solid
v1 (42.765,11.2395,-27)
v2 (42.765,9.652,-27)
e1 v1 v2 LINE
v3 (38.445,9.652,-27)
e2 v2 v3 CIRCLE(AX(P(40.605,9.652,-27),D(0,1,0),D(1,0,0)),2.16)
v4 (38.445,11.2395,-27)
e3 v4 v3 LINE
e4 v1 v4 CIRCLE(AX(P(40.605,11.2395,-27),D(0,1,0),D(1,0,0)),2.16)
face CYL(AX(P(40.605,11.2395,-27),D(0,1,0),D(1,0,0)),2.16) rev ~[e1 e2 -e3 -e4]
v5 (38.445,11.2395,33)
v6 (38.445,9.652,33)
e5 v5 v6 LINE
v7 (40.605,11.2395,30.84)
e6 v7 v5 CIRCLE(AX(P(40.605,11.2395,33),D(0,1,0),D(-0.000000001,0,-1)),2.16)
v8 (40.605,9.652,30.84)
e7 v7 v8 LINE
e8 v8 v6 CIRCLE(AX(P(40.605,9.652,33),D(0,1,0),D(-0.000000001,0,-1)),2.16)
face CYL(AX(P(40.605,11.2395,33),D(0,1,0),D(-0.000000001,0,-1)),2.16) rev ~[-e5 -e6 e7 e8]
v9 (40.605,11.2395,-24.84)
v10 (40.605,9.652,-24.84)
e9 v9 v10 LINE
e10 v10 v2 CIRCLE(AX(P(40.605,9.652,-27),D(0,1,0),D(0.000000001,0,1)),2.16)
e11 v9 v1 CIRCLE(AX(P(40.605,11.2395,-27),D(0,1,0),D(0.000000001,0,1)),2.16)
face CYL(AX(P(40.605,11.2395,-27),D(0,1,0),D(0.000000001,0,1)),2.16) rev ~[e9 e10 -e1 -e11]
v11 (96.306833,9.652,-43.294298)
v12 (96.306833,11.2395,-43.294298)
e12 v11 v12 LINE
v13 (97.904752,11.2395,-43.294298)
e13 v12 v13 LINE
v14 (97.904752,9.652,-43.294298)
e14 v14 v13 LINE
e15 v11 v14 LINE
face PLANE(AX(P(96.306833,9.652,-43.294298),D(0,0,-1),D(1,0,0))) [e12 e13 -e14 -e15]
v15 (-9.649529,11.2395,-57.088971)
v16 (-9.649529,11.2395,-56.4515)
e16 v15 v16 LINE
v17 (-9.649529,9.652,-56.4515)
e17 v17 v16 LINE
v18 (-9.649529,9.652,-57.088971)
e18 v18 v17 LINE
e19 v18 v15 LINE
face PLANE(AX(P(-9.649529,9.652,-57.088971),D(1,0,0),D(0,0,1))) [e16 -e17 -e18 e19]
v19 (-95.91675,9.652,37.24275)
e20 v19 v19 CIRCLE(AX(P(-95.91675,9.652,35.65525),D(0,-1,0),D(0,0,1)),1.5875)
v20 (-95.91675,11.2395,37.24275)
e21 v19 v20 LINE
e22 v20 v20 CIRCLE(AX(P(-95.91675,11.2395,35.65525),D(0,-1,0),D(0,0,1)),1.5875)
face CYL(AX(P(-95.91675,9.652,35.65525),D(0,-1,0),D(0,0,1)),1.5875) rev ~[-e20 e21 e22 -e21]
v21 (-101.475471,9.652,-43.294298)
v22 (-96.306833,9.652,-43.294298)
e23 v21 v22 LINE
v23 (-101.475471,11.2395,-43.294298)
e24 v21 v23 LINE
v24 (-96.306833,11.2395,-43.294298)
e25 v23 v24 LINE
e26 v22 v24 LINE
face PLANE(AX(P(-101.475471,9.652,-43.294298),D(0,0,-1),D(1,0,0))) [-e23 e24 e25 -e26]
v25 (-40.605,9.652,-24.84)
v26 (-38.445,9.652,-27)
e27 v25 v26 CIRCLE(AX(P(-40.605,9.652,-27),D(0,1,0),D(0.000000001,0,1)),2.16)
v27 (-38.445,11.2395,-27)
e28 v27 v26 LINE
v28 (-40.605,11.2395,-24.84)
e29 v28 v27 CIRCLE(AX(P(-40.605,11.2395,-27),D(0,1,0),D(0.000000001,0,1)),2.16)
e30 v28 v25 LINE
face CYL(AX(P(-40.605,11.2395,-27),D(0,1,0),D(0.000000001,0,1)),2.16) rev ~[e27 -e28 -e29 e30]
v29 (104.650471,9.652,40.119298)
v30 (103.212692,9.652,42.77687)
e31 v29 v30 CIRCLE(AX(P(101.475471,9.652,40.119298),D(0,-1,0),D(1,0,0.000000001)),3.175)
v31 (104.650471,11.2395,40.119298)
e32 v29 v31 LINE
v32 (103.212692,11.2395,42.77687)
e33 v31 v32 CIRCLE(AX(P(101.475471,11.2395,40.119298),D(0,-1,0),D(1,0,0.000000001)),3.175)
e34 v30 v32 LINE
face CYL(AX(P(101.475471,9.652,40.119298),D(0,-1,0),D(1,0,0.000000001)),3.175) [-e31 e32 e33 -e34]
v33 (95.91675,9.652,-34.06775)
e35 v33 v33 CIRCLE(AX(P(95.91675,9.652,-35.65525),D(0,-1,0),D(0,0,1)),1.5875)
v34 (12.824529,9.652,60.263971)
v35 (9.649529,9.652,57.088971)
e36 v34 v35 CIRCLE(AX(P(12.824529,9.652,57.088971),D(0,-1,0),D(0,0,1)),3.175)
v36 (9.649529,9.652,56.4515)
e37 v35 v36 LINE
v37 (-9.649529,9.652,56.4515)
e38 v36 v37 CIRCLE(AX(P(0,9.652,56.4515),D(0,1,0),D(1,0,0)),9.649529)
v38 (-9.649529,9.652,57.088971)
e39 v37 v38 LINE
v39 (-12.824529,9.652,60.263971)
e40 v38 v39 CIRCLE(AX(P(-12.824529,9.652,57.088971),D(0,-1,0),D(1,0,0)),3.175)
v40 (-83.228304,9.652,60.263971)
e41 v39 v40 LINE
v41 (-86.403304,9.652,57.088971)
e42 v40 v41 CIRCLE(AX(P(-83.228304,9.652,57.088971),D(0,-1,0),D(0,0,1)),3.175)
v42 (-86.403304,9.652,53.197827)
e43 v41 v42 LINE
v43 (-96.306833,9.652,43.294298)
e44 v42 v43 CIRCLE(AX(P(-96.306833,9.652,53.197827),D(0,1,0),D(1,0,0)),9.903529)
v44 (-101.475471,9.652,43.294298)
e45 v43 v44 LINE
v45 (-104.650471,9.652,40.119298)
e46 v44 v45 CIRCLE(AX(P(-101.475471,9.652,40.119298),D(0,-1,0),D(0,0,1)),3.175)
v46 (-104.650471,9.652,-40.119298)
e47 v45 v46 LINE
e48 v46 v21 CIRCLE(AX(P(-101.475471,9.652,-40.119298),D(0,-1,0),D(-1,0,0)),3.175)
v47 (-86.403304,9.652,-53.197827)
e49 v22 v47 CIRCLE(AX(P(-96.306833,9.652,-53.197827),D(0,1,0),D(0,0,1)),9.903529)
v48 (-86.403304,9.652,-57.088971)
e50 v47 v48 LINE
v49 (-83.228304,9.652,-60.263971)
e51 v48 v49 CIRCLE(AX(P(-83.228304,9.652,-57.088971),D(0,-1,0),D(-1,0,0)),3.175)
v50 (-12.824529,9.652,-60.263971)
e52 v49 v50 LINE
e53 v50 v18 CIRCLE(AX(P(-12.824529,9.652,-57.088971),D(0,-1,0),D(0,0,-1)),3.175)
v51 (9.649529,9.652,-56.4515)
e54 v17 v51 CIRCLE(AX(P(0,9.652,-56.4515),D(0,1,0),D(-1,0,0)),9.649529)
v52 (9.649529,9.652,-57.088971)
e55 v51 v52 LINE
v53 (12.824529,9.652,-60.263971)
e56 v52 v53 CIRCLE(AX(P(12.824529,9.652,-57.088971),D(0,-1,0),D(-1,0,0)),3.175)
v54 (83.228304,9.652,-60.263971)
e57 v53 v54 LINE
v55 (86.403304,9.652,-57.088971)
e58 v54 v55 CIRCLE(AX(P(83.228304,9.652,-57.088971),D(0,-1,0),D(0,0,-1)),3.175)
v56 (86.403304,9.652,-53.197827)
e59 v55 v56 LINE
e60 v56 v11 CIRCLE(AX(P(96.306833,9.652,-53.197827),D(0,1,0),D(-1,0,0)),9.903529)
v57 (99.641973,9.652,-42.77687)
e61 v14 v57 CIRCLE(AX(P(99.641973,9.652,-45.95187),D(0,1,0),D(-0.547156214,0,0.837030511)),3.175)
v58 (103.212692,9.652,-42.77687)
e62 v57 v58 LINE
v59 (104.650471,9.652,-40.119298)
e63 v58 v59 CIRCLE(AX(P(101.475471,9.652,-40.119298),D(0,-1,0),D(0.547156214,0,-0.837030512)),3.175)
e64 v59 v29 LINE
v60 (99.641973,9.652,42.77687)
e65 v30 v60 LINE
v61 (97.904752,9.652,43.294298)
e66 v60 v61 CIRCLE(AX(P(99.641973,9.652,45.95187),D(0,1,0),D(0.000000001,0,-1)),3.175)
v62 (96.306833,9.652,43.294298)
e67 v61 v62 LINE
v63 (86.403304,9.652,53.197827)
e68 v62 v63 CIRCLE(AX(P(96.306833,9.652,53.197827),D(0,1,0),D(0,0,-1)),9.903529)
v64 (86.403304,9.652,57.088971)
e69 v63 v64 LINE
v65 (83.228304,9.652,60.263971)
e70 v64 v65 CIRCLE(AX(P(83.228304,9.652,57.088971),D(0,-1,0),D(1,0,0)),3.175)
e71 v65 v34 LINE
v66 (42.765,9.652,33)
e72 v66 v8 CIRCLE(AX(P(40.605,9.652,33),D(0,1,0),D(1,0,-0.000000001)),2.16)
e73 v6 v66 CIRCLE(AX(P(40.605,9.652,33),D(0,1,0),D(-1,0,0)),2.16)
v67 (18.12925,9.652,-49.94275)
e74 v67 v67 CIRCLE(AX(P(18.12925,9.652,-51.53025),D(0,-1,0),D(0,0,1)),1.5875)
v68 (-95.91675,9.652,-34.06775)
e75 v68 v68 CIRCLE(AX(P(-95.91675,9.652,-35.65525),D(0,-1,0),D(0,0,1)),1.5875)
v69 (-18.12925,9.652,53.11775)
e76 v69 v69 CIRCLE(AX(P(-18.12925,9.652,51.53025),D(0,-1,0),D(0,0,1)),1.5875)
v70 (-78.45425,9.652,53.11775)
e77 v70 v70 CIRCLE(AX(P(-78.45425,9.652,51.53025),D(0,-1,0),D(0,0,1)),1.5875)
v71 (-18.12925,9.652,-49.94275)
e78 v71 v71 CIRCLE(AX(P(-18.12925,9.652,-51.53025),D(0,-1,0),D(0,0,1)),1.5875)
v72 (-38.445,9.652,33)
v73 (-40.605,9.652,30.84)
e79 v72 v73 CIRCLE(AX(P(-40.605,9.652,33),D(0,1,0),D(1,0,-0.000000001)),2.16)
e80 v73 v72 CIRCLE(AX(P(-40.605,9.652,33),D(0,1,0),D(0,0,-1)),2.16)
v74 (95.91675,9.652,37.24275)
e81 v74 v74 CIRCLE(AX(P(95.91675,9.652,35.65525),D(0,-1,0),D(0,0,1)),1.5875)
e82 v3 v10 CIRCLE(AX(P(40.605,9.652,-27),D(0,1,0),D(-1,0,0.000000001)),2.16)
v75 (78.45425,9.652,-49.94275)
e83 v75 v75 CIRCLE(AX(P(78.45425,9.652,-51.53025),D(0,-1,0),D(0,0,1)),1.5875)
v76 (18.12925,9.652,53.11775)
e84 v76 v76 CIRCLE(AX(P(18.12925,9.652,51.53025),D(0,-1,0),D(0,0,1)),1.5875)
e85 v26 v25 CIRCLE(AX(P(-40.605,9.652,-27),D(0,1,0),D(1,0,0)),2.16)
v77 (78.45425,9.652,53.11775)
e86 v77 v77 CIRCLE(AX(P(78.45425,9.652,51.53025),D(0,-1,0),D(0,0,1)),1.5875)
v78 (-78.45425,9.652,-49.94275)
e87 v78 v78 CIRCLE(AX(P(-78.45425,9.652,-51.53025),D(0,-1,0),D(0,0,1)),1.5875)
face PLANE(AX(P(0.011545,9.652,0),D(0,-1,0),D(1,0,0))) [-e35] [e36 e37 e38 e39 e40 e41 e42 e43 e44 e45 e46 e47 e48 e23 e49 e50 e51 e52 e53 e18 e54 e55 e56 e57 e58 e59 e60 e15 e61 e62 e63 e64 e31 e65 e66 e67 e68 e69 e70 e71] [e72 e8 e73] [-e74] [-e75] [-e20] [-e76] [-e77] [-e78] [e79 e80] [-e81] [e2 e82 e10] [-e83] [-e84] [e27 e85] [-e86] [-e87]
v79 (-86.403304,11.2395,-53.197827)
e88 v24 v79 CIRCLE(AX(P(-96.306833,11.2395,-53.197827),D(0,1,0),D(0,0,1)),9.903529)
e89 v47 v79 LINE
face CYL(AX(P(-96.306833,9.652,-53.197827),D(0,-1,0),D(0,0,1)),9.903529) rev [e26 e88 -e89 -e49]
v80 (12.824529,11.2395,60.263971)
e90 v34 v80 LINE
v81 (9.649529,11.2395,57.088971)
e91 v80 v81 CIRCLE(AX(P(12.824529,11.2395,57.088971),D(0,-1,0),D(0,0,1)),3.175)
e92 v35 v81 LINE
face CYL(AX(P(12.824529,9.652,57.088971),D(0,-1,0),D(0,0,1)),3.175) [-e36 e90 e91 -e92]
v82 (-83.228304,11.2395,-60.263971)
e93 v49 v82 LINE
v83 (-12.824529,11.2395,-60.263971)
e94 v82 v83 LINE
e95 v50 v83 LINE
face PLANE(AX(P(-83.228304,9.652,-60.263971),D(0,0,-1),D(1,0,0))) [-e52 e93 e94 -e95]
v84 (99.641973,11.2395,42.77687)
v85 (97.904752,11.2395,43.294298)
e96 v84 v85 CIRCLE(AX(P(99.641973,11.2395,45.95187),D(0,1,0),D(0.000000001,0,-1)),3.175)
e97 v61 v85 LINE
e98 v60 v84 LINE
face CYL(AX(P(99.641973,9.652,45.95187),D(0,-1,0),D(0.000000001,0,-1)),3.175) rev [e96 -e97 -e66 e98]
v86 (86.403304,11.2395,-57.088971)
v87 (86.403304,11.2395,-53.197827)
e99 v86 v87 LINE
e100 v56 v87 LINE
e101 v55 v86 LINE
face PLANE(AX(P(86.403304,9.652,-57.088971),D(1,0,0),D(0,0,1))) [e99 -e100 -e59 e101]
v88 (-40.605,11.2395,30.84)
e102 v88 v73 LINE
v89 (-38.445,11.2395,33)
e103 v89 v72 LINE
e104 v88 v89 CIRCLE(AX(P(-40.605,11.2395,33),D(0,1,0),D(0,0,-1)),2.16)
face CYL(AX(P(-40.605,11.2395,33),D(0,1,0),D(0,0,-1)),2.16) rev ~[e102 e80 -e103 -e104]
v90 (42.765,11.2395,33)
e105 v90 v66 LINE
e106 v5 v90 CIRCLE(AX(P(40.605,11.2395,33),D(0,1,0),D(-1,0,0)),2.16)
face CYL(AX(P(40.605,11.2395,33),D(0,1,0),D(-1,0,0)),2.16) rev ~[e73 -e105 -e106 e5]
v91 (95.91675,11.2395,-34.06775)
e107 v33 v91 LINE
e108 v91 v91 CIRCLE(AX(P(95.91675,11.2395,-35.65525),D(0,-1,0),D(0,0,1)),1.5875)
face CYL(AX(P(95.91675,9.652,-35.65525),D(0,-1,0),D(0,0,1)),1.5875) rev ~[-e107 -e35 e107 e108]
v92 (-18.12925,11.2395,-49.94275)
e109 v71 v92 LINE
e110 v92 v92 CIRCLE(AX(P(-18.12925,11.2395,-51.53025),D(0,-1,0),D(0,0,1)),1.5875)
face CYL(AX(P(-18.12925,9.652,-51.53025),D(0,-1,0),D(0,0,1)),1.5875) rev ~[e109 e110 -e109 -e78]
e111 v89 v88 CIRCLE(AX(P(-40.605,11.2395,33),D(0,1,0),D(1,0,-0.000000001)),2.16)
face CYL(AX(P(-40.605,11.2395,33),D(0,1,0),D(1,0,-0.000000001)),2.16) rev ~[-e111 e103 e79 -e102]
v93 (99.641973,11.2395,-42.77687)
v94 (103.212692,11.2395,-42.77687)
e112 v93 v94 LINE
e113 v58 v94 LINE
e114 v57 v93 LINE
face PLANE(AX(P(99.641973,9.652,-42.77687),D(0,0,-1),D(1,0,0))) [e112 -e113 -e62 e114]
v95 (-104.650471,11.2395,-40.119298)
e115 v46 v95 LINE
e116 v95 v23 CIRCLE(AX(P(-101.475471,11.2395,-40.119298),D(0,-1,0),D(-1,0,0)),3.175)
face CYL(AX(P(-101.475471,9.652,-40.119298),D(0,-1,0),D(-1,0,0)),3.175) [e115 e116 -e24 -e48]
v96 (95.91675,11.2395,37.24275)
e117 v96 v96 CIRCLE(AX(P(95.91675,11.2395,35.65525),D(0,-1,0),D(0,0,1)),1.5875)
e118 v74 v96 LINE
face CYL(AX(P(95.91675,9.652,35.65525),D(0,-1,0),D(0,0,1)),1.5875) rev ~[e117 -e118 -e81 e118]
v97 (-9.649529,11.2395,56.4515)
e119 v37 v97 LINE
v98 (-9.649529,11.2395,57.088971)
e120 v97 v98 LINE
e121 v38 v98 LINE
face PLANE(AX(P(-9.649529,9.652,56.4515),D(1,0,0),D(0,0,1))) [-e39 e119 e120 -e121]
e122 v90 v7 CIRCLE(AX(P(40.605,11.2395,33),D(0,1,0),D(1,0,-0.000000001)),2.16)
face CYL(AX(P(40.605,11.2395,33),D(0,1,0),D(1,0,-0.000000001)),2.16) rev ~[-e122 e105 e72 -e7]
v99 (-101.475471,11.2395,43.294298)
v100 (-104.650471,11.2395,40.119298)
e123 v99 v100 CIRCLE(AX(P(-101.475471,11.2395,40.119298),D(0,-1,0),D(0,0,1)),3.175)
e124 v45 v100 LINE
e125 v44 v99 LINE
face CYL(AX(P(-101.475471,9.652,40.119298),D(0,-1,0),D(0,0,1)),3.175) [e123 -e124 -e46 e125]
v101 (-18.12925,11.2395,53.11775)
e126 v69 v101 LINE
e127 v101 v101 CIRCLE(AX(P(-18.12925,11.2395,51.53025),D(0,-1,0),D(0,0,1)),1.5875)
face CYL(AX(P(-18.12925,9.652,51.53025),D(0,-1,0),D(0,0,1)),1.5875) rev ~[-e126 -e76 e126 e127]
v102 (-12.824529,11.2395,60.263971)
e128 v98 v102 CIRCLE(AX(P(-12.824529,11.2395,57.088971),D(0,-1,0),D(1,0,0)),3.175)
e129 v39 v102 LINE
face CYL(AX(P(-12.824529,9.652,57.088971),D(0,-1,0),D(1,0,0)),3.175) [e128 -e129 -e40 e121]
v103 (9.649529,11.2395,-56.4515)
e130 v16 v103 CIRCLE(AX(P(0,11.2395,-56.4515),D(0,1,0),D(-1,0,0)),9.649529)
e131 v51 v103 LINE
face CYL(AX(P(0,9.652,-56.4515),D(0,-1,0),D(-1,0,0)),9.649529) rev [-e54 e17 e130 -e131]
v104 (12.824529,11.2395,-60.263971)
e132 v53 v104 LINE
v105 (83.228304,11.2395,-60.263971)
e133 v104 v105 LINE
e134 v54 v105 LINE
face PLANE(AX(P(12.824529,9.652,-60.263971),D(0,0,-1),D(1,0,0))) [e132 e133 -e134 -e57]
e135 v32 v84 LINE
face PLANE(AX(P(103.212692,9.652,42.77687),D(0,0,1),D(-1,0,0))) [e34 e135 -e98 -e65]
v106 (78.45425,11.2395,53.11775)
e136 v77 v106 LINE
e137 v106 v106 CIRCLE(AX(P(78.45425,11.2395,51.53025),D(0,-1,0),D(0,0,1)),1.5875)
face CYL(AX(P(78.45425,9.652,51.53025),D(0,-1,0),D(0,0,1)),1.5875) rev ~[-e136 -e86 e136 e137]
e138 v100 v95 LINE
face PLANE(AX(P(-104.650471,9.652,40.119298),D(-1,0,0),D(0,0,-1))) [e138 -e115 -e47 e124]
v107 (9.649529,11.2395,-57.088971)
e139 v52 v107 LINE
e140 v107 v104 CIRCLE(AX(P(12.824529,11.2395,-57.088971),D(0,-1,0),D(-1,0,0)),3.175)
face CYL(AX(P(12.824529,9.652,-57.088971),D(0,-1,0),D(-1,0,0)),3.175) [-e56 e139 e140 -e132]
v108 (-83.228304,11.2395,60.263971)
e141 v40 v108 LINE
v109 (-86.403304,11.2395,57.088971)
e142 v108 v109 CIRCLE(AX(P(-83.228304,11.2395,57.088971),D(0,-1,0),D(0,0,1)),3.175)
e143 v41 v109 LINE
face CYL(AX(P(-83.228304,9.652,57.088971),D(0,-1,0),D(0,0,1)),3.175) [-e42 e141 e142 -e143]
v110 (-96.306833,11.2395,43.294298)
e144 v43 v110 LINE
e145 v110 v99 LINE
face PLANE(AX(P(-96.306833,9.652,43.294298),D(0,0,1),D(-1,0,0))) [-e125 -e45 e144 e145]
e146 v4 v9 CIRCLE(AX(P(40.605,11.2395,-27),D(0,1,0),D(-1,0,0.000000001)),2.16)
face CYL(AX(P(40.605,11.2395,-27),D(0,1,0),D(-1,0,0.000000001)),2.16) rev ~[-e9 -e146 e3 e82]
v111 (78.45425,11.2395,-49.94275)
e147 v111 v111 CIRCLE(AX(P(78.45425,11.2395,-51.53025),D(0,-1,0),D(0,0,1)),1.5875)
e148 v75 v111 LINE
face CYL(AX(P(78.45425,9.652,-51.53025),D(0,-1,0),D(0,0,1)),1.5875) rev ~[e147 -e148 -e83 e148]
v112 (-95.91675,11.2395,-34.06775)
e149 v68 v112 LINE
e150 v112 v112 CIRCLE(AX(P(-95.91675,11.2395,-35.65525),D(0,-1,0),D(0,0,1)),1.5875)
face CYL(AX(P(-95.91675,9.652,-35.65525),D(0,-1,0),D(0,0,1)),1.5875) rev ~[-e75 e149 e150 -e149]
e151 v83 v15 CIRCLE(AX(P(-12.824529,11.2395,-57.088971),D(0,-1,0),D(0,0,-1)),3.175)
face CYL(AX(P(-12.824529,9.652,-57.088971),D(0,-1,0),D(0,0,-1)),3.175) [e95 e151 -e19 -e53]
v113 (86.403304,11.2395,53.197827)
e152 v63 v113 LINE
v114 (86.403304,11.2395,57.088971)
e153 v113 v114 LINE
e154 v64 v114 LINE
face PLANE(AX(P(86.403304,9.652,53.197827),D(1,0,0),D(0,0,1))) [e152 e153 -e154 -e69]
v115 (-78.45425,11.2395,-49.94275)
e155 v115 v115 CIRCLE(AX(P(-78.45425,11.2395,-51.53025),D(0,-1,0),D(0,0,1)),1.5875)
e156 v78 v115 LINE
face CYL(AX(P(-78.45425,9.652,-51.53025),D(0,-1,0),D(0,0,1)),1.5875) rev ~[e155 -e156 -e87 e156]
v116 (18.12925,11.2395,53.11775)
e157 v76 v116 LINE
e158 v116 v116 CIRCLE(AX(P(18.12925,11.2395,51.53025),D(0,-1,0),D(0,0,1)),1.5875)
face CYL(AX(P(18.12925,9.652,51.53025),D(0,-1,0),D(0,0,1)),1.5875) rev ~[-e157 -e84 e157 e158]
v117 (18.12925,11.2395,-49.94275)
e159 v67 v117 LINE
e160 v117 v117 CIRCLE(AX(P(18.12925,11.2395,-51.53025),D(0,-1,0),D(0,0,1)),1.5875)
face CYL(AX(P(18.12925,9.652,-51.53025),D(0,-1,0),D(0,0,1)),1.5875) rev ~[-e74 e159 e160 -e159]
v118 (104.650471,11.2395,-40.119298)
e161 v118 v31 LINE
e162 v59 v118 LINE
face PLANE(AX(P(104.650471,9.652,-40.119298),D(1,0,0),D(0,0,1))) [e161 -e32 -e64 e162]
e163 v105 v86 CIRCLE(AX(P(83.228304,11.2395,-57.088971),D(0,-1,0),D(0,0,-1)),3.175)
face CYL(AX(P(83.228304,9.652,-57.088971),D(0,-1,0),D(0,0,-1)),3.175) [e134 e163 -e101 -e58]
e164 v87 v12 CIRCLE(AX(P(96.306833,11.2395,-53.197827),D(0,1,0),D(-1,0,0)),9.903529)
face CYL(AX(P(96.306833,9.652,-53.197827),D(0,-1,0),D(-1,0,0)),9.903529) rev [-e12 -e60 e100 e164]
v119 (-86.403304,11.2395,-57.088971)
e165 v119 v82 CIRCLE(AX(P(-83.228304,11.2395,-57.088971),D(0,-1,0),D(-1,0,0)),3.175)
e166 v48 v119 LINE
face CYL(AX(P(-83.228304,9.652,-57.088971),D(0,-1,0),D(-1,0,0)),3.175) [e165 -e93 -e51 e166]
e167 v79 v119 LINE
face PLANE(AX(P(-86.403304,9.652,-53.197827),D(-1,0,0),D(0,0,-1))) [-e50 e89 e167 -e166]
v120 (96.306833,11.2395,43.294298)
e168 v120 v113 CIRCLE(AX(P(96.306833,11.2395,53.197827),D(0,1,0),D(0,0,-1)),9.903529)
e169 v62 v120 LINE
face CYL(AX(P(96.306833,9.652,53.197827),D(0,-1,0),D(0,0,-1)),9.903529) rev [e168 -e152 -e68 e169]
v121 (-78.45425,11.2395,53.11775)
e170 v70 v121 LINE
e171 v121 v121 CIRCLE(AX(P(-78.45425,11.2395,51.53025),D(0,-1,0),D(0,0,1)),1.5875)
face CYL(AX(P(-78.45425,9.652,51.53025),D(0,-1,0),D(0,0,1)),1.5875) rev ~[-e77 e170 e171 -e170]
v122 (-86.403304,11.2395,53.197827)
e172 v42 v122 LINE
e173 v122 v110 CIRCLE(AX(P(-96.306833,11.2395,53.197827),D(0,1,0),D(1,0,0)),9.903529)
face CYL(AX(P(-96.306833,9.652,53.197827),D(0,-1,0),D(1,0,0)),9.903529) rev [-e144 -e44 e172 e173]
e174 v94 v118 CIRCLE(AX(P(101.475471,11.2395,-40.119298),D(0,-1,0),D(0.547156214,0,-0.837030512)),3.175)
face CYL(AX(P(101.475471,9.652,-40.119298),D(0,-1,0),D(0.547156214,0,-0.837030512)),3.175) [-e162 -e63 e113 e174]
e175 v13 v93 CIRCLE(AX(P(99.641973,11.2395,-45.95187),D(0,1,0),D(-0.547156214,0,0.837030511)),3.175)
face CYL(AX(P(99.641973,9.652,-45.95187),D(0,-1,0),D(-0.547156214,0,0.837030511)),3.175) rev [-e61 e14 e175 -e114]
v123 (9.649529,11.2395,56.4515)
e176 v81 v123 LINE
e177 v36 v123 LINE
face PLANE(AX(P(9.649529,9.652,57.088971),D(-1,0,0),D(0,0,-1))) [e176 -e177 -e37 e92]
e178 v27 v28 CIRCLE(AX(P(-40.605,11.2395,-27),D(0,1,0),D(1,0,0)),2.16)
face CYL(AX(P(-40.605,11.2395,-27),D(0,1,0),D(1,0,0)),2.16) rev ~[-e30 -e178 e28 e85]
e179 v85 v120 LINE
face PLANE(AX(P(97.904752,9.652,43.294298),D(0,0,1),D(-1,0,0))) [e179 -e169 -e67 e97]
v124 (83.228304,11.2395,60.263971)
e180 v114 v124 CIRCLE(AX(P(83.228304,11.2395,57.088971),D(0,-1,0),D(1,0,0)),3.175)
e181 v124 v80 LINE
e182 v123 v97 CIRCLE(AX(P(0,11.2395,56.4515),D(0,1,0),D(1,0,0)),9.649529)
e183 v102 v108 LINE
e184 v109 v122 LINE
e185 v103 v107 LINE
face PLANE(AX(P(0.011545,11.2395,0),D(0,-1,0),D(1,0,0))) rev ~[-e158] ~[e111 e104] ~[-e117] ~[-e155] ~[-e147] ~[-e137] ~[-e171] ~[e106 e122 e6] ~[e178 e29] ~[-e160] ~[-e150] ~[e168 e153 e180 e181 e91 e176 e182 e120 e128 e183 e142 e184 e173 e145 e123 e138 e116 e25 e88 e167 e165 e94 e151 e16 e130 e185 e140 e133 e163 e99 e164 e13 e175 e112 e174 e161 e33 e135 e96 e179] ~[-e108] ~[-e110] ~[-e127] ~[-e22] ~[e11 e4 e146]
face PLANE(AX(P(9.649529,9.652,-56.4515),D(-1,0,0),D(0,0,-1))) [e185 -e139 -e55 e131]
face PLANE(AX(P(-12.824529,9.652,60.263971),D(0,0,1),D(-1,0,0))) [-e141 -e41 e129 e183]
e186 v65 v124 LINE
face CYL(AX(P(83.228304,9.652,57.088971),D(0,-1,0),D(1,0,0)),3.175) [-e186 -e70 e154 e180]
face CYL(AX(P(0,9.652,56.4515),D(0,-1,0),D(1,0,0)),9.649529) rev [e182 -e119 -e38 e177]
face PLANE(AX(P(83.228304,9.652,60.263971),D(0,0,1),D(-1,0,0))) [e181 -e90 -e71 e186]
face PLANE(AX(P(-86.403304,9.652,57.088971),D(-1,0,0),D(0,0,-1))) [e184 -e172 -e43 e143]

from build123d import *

# Parameters (mm, degrees)
SKETCH1_R           = 1.5875
BOSS_EXTRUDE1_DEPTH = 1.5875
CUT_EXTRUDE1_DEPTH  = 10


with BuildPart() as part:
    # Sketch1 → Boss-Extrude1 (new body)
    with BuildSketch(Plane.XZ.offset(-9.652)):
        with BuildLine():
            Line((-9.649529152, -57.088970848), (-9.649529152, -56.4515))
            ThreePointArc((-9.649529152, -56.4515), (0, -46.801970848), (9.649529152, -56.4515))
            Line((9.649529152, -56.4515), (9.649529152, -57.088970848))
            ThreePointArc((9.649529152, -57.088970848), (10.579465122, -59.334034878), (12.824529152, -60.263970848))
            Line((12.824529152, -60.263970848), (83.228304068, -60.263970848))
            ThreePointArc((83.228304068, -60.263970848), (85.473368098, -59.334034878), (86.403304068, -57.088970848))
            Line((86.403304068, -57.088970848), (86.403304068, -53.197827078))
            ThreePointArc((86.403304068, -53.197827078), (89.303980599, -46.194974456), (96.306833221, -43.294297925))
            Line((96.306833221, -43.294297925), (97.90475189, -43.294297925))
            ThreePointArc((97.90475189, -43.294297925), (98.735652203, -42.90897515), (99.641972868, -42.776869801))
            Line((99.641972868, -42.776869801), (103.212691826, -42.776869801))
            ThreePointArc((103.212691826, -42.776869801), (104.267987777, -41.630083879), (104.650470848, -40.119297925))
            Line((104.650470848, -40.119297925), (104.650470848, 40.119297925))
            ThreePointArc((104.650470848, 40.119297925), (104.267987777, 41.630083879), (103.212691826, 42.776869801))
            Line((103.212691826, 42.776869801), (99.641972868, 42.776869801))
            ThreePointArc((99.641972868, 42.776869801), (98.735652203, 42.90897515), (97.90475189, 43.294297925))
            Line((97.90475189, 43.294297925), (96.306833221, 43.294297925))
            ThreePointArc((96.306833221, 43.294297925), (89.303980599, 46.194974456), (86.403304068, 53.197827078))
            Line((86.403304068, 53.197827078), (86.403304068, 57.088970848))
            ThreePointArc((86.403304068, 57.088970848), (85.473368098, 59.334034878), (83.228304068, 60.263970848))
            Line((83.228304068, 60.263970848), (12.824529152, 60.263970848))
            ThreePointArc((12.824529152, 60.263970848), (10.579465122, 59.334034878), (9.649529152, 57.088970848))
            Line((9.649529152, 57.088970848), (9.649529152, 56.4515))
            ThreePointArc((9.649529152, 56.4515), (0, 46.801970848), (-9.649529152, 56.4515))
            Line((-9.649529152, 56.4515), (-9.649529152, 57.088970848))
            ThreePointArc((-9.649529152, 57.088970848), (-10.579465122, 59.334034878), (-12.824529152, 60.263970848))
            Line((-12.824529152, 60.263970848), (-83.228304068, 60.263970848))
            ThreePointArc((-83.228304068, 60.263970848), (-85.473368098, 59.334034878), (-86.403304068, 57.088970848))
            Line((-86.403304068, 57.088970848), (-86.403304068, 53.197827078))
            ThreePointArc((-86.403304068, 53.197827078), (-89.303980599, 46.194974456), (-96.306833221, 43.294297925))
            Line((-96.306833221, 43.294297925), (-101.475470848, 43.294297925))
            ThreePointArc((-101.475470848, 43.294297925), (-103.720534878, 42.364361955), (-104.650470848, 40.119297925))
            Line((-104.650470848, 40.119297925), (-104.650470848, -40.119297925))
            ThreePointArc((-104.650470848, -40.119297925), (-103.720534878, -42.364361955), (-101.475470848, -43.294297925))
            Line((-101.475470848, -43.294297925), (-96.306833221, -43.294297925))
            ThreePointArc((-96.306833221, -43.294297925), (-89.303980599, -46.194974456), (-86.403304068, -53.197827078))
            Line((-86.403304068, -53.197827078), (-86.403304068, -57.088970848))
            ThreePointArc((-86.403304068, -57.088970848), (-85.473368098, -59.334034878), (-83.228304068, -60.263970848))
            Line((-83.228304068, -60.263970848), (-12.824529152, -60.263970848))
            ThreePointArc((-12.824529152, -60.263970848), (-10.579465122, -59.334034878), (-9.649529152, -57.088970848))
        make_face()
        with Locations(Location((18.12925, 51.53025, 0), (0, 0, 90))):
            Circle(SKETCH1_R, mode=Mode.SUBTRACT)
        with Locations(Location((18.12925, -51.53025, 0), (0, 0, 90))):
            Circle(SKETCH1_R, mode=Mode.SUBTRACT)
        with Locations(Location((95.91675, -35.65525, 0), (0, 0, 90))):
            Circle(SKETCH1_R, mode=Mode.SUBTRACT)
        with Locations(Location((78.45425, 51.53025, 0), (0, 0, 90))):
            Circle(SKETCH1_R, mode=Mode.SUBTRACT)
        with Locations(Location((-95.91675, 35.65525, 0), (0, 0, 90))):
            Circle(SKETCH1_R, mode=Mode.SUBTRACT)
        with Locations(Location((-78.45425, -51.53025, 0), (0, 0, 90))):
            Circle(SKETCH1_R, mode=Mode.SUBTRACT)
        with Locations(Location((-18.12925, -51.53025, 0), (0, 0, 90))):
            Circle(SKETCH1_R, mode=Mode.SUBTRACT)
        with Locations(Location((-95.91675, -35.65525, 0), (0, 0, 90))):
            Circle(SKETCH1_R, mode=Mode.SUBTRACT)
        with Locations(Location((-78.45425, 51.53025, 0), (0, 0, 90))):
            Circle(SKETCH1_R, mode=Mode.SUBTRACT)
        with Locations(Location((95.91675, 35.65525, 0), (0, 0, 90))):
            Circle(SKETCH1_R, mode=Mode.SUBTRACT)
        with Locations(Location((78.45425, -51.53025, 0), (0, 0, 90))):
            Circle(SKETCH1_R, mode=Mode.SUBTRACT)
        with Locations(Location((-18.12925, 51.53025, 0), (0, 0, 90))):
            Circle(SKETCH1_R, mode=Mode.SUBTRACT)
    extrude(amount=-BOSS_EXTRUDE1_DEPTH)

    # Sketch2 → Cut-Extrude1 (cut)
    with BuildSketch(Plane(origin=(0, 11.2395, 0), x_dir=(1, 0, 0), z_dir=(0, 1, 0))):
        with BuildLine():
            ThreePointArc((-38.445, 27), (-42.132350647, 28.527350647), (-40.605, 24.84))
            Line((-40.605, 24.84), (-40.605, 27))
            Line((-40.605, 27), (-38.445, 27))
        make_face()
        with BuildLine():
            Line((-40.605, 27), (-40.605, 24.84))
            ThreePointArc((-40.605, 24.84), (-39.077649353, 25.472649353), (-38.445, 27))
            Line((-38.445, 27), (-40.605, 27))
        make_face()
        with BuildLine():
            Line((-38.445, -33), (-40.605, -33))
            Line((-40.605, -33), (-40.605, -30.84))
            ThreePointArc((-40.605, -30.84), (-42.132350647, -34.527350647), (-38.445, -33))
        make_face()
        with BuildLine():
            Line((-40.605, -30.84), (-40.605, -33))
            Line((-40.605, -33), (-38.445, -33))
            ThreePointArc((-38.445, -33), (-39.077649353, -31.472649353), (-40.605, -30.84))
        make_face()
        with BuildLine():
            ThreePointArc((40.605, -30.84), (39.077649353, -31.472649353), (38.445, -33))
            Line((38.445, -33), (40.605, -33))
            Line((40.605, -33), (40.605, -30.84))
        make_face()
        with BuildLine():
            Line((40.605, -33), (38.445, -33))
            ThreePointArc((38.445, -33), (40.605, -35.16), (42.765, -33))
            ThreePointArc((42.765, -33), (42.132350647, -31.472649353), (40.605, -30.84))
            Line((40.605, -30.84), (40.605, -33))
        make_face()
        with BuildLine():
            ThreePointArc((42.765, 27), (40.605, 29.16), (38.445, 27))
            Line((38.445, 27), (40.605, 27))
            Line((40.605, 27), (40.605, 24.84))
            ThreePointArc((40.605, 24.84), (42.132350647, 25.472649353), (42.765, 27))
        make_face()
        with BuildLine():
            Line((40.605, 27), (38.445, 27))
            ThreePointArc((38.445, 27), (39.077649353, 25.472649353), (40.605, 24.84))
            Line((40.605, 24.84), (40.605, 27))
        make_face()
    extrude(amount=-CUT_EXTRUDE1_DEPTH, mode=Mode.SUBTRACT)


solid = part.part
